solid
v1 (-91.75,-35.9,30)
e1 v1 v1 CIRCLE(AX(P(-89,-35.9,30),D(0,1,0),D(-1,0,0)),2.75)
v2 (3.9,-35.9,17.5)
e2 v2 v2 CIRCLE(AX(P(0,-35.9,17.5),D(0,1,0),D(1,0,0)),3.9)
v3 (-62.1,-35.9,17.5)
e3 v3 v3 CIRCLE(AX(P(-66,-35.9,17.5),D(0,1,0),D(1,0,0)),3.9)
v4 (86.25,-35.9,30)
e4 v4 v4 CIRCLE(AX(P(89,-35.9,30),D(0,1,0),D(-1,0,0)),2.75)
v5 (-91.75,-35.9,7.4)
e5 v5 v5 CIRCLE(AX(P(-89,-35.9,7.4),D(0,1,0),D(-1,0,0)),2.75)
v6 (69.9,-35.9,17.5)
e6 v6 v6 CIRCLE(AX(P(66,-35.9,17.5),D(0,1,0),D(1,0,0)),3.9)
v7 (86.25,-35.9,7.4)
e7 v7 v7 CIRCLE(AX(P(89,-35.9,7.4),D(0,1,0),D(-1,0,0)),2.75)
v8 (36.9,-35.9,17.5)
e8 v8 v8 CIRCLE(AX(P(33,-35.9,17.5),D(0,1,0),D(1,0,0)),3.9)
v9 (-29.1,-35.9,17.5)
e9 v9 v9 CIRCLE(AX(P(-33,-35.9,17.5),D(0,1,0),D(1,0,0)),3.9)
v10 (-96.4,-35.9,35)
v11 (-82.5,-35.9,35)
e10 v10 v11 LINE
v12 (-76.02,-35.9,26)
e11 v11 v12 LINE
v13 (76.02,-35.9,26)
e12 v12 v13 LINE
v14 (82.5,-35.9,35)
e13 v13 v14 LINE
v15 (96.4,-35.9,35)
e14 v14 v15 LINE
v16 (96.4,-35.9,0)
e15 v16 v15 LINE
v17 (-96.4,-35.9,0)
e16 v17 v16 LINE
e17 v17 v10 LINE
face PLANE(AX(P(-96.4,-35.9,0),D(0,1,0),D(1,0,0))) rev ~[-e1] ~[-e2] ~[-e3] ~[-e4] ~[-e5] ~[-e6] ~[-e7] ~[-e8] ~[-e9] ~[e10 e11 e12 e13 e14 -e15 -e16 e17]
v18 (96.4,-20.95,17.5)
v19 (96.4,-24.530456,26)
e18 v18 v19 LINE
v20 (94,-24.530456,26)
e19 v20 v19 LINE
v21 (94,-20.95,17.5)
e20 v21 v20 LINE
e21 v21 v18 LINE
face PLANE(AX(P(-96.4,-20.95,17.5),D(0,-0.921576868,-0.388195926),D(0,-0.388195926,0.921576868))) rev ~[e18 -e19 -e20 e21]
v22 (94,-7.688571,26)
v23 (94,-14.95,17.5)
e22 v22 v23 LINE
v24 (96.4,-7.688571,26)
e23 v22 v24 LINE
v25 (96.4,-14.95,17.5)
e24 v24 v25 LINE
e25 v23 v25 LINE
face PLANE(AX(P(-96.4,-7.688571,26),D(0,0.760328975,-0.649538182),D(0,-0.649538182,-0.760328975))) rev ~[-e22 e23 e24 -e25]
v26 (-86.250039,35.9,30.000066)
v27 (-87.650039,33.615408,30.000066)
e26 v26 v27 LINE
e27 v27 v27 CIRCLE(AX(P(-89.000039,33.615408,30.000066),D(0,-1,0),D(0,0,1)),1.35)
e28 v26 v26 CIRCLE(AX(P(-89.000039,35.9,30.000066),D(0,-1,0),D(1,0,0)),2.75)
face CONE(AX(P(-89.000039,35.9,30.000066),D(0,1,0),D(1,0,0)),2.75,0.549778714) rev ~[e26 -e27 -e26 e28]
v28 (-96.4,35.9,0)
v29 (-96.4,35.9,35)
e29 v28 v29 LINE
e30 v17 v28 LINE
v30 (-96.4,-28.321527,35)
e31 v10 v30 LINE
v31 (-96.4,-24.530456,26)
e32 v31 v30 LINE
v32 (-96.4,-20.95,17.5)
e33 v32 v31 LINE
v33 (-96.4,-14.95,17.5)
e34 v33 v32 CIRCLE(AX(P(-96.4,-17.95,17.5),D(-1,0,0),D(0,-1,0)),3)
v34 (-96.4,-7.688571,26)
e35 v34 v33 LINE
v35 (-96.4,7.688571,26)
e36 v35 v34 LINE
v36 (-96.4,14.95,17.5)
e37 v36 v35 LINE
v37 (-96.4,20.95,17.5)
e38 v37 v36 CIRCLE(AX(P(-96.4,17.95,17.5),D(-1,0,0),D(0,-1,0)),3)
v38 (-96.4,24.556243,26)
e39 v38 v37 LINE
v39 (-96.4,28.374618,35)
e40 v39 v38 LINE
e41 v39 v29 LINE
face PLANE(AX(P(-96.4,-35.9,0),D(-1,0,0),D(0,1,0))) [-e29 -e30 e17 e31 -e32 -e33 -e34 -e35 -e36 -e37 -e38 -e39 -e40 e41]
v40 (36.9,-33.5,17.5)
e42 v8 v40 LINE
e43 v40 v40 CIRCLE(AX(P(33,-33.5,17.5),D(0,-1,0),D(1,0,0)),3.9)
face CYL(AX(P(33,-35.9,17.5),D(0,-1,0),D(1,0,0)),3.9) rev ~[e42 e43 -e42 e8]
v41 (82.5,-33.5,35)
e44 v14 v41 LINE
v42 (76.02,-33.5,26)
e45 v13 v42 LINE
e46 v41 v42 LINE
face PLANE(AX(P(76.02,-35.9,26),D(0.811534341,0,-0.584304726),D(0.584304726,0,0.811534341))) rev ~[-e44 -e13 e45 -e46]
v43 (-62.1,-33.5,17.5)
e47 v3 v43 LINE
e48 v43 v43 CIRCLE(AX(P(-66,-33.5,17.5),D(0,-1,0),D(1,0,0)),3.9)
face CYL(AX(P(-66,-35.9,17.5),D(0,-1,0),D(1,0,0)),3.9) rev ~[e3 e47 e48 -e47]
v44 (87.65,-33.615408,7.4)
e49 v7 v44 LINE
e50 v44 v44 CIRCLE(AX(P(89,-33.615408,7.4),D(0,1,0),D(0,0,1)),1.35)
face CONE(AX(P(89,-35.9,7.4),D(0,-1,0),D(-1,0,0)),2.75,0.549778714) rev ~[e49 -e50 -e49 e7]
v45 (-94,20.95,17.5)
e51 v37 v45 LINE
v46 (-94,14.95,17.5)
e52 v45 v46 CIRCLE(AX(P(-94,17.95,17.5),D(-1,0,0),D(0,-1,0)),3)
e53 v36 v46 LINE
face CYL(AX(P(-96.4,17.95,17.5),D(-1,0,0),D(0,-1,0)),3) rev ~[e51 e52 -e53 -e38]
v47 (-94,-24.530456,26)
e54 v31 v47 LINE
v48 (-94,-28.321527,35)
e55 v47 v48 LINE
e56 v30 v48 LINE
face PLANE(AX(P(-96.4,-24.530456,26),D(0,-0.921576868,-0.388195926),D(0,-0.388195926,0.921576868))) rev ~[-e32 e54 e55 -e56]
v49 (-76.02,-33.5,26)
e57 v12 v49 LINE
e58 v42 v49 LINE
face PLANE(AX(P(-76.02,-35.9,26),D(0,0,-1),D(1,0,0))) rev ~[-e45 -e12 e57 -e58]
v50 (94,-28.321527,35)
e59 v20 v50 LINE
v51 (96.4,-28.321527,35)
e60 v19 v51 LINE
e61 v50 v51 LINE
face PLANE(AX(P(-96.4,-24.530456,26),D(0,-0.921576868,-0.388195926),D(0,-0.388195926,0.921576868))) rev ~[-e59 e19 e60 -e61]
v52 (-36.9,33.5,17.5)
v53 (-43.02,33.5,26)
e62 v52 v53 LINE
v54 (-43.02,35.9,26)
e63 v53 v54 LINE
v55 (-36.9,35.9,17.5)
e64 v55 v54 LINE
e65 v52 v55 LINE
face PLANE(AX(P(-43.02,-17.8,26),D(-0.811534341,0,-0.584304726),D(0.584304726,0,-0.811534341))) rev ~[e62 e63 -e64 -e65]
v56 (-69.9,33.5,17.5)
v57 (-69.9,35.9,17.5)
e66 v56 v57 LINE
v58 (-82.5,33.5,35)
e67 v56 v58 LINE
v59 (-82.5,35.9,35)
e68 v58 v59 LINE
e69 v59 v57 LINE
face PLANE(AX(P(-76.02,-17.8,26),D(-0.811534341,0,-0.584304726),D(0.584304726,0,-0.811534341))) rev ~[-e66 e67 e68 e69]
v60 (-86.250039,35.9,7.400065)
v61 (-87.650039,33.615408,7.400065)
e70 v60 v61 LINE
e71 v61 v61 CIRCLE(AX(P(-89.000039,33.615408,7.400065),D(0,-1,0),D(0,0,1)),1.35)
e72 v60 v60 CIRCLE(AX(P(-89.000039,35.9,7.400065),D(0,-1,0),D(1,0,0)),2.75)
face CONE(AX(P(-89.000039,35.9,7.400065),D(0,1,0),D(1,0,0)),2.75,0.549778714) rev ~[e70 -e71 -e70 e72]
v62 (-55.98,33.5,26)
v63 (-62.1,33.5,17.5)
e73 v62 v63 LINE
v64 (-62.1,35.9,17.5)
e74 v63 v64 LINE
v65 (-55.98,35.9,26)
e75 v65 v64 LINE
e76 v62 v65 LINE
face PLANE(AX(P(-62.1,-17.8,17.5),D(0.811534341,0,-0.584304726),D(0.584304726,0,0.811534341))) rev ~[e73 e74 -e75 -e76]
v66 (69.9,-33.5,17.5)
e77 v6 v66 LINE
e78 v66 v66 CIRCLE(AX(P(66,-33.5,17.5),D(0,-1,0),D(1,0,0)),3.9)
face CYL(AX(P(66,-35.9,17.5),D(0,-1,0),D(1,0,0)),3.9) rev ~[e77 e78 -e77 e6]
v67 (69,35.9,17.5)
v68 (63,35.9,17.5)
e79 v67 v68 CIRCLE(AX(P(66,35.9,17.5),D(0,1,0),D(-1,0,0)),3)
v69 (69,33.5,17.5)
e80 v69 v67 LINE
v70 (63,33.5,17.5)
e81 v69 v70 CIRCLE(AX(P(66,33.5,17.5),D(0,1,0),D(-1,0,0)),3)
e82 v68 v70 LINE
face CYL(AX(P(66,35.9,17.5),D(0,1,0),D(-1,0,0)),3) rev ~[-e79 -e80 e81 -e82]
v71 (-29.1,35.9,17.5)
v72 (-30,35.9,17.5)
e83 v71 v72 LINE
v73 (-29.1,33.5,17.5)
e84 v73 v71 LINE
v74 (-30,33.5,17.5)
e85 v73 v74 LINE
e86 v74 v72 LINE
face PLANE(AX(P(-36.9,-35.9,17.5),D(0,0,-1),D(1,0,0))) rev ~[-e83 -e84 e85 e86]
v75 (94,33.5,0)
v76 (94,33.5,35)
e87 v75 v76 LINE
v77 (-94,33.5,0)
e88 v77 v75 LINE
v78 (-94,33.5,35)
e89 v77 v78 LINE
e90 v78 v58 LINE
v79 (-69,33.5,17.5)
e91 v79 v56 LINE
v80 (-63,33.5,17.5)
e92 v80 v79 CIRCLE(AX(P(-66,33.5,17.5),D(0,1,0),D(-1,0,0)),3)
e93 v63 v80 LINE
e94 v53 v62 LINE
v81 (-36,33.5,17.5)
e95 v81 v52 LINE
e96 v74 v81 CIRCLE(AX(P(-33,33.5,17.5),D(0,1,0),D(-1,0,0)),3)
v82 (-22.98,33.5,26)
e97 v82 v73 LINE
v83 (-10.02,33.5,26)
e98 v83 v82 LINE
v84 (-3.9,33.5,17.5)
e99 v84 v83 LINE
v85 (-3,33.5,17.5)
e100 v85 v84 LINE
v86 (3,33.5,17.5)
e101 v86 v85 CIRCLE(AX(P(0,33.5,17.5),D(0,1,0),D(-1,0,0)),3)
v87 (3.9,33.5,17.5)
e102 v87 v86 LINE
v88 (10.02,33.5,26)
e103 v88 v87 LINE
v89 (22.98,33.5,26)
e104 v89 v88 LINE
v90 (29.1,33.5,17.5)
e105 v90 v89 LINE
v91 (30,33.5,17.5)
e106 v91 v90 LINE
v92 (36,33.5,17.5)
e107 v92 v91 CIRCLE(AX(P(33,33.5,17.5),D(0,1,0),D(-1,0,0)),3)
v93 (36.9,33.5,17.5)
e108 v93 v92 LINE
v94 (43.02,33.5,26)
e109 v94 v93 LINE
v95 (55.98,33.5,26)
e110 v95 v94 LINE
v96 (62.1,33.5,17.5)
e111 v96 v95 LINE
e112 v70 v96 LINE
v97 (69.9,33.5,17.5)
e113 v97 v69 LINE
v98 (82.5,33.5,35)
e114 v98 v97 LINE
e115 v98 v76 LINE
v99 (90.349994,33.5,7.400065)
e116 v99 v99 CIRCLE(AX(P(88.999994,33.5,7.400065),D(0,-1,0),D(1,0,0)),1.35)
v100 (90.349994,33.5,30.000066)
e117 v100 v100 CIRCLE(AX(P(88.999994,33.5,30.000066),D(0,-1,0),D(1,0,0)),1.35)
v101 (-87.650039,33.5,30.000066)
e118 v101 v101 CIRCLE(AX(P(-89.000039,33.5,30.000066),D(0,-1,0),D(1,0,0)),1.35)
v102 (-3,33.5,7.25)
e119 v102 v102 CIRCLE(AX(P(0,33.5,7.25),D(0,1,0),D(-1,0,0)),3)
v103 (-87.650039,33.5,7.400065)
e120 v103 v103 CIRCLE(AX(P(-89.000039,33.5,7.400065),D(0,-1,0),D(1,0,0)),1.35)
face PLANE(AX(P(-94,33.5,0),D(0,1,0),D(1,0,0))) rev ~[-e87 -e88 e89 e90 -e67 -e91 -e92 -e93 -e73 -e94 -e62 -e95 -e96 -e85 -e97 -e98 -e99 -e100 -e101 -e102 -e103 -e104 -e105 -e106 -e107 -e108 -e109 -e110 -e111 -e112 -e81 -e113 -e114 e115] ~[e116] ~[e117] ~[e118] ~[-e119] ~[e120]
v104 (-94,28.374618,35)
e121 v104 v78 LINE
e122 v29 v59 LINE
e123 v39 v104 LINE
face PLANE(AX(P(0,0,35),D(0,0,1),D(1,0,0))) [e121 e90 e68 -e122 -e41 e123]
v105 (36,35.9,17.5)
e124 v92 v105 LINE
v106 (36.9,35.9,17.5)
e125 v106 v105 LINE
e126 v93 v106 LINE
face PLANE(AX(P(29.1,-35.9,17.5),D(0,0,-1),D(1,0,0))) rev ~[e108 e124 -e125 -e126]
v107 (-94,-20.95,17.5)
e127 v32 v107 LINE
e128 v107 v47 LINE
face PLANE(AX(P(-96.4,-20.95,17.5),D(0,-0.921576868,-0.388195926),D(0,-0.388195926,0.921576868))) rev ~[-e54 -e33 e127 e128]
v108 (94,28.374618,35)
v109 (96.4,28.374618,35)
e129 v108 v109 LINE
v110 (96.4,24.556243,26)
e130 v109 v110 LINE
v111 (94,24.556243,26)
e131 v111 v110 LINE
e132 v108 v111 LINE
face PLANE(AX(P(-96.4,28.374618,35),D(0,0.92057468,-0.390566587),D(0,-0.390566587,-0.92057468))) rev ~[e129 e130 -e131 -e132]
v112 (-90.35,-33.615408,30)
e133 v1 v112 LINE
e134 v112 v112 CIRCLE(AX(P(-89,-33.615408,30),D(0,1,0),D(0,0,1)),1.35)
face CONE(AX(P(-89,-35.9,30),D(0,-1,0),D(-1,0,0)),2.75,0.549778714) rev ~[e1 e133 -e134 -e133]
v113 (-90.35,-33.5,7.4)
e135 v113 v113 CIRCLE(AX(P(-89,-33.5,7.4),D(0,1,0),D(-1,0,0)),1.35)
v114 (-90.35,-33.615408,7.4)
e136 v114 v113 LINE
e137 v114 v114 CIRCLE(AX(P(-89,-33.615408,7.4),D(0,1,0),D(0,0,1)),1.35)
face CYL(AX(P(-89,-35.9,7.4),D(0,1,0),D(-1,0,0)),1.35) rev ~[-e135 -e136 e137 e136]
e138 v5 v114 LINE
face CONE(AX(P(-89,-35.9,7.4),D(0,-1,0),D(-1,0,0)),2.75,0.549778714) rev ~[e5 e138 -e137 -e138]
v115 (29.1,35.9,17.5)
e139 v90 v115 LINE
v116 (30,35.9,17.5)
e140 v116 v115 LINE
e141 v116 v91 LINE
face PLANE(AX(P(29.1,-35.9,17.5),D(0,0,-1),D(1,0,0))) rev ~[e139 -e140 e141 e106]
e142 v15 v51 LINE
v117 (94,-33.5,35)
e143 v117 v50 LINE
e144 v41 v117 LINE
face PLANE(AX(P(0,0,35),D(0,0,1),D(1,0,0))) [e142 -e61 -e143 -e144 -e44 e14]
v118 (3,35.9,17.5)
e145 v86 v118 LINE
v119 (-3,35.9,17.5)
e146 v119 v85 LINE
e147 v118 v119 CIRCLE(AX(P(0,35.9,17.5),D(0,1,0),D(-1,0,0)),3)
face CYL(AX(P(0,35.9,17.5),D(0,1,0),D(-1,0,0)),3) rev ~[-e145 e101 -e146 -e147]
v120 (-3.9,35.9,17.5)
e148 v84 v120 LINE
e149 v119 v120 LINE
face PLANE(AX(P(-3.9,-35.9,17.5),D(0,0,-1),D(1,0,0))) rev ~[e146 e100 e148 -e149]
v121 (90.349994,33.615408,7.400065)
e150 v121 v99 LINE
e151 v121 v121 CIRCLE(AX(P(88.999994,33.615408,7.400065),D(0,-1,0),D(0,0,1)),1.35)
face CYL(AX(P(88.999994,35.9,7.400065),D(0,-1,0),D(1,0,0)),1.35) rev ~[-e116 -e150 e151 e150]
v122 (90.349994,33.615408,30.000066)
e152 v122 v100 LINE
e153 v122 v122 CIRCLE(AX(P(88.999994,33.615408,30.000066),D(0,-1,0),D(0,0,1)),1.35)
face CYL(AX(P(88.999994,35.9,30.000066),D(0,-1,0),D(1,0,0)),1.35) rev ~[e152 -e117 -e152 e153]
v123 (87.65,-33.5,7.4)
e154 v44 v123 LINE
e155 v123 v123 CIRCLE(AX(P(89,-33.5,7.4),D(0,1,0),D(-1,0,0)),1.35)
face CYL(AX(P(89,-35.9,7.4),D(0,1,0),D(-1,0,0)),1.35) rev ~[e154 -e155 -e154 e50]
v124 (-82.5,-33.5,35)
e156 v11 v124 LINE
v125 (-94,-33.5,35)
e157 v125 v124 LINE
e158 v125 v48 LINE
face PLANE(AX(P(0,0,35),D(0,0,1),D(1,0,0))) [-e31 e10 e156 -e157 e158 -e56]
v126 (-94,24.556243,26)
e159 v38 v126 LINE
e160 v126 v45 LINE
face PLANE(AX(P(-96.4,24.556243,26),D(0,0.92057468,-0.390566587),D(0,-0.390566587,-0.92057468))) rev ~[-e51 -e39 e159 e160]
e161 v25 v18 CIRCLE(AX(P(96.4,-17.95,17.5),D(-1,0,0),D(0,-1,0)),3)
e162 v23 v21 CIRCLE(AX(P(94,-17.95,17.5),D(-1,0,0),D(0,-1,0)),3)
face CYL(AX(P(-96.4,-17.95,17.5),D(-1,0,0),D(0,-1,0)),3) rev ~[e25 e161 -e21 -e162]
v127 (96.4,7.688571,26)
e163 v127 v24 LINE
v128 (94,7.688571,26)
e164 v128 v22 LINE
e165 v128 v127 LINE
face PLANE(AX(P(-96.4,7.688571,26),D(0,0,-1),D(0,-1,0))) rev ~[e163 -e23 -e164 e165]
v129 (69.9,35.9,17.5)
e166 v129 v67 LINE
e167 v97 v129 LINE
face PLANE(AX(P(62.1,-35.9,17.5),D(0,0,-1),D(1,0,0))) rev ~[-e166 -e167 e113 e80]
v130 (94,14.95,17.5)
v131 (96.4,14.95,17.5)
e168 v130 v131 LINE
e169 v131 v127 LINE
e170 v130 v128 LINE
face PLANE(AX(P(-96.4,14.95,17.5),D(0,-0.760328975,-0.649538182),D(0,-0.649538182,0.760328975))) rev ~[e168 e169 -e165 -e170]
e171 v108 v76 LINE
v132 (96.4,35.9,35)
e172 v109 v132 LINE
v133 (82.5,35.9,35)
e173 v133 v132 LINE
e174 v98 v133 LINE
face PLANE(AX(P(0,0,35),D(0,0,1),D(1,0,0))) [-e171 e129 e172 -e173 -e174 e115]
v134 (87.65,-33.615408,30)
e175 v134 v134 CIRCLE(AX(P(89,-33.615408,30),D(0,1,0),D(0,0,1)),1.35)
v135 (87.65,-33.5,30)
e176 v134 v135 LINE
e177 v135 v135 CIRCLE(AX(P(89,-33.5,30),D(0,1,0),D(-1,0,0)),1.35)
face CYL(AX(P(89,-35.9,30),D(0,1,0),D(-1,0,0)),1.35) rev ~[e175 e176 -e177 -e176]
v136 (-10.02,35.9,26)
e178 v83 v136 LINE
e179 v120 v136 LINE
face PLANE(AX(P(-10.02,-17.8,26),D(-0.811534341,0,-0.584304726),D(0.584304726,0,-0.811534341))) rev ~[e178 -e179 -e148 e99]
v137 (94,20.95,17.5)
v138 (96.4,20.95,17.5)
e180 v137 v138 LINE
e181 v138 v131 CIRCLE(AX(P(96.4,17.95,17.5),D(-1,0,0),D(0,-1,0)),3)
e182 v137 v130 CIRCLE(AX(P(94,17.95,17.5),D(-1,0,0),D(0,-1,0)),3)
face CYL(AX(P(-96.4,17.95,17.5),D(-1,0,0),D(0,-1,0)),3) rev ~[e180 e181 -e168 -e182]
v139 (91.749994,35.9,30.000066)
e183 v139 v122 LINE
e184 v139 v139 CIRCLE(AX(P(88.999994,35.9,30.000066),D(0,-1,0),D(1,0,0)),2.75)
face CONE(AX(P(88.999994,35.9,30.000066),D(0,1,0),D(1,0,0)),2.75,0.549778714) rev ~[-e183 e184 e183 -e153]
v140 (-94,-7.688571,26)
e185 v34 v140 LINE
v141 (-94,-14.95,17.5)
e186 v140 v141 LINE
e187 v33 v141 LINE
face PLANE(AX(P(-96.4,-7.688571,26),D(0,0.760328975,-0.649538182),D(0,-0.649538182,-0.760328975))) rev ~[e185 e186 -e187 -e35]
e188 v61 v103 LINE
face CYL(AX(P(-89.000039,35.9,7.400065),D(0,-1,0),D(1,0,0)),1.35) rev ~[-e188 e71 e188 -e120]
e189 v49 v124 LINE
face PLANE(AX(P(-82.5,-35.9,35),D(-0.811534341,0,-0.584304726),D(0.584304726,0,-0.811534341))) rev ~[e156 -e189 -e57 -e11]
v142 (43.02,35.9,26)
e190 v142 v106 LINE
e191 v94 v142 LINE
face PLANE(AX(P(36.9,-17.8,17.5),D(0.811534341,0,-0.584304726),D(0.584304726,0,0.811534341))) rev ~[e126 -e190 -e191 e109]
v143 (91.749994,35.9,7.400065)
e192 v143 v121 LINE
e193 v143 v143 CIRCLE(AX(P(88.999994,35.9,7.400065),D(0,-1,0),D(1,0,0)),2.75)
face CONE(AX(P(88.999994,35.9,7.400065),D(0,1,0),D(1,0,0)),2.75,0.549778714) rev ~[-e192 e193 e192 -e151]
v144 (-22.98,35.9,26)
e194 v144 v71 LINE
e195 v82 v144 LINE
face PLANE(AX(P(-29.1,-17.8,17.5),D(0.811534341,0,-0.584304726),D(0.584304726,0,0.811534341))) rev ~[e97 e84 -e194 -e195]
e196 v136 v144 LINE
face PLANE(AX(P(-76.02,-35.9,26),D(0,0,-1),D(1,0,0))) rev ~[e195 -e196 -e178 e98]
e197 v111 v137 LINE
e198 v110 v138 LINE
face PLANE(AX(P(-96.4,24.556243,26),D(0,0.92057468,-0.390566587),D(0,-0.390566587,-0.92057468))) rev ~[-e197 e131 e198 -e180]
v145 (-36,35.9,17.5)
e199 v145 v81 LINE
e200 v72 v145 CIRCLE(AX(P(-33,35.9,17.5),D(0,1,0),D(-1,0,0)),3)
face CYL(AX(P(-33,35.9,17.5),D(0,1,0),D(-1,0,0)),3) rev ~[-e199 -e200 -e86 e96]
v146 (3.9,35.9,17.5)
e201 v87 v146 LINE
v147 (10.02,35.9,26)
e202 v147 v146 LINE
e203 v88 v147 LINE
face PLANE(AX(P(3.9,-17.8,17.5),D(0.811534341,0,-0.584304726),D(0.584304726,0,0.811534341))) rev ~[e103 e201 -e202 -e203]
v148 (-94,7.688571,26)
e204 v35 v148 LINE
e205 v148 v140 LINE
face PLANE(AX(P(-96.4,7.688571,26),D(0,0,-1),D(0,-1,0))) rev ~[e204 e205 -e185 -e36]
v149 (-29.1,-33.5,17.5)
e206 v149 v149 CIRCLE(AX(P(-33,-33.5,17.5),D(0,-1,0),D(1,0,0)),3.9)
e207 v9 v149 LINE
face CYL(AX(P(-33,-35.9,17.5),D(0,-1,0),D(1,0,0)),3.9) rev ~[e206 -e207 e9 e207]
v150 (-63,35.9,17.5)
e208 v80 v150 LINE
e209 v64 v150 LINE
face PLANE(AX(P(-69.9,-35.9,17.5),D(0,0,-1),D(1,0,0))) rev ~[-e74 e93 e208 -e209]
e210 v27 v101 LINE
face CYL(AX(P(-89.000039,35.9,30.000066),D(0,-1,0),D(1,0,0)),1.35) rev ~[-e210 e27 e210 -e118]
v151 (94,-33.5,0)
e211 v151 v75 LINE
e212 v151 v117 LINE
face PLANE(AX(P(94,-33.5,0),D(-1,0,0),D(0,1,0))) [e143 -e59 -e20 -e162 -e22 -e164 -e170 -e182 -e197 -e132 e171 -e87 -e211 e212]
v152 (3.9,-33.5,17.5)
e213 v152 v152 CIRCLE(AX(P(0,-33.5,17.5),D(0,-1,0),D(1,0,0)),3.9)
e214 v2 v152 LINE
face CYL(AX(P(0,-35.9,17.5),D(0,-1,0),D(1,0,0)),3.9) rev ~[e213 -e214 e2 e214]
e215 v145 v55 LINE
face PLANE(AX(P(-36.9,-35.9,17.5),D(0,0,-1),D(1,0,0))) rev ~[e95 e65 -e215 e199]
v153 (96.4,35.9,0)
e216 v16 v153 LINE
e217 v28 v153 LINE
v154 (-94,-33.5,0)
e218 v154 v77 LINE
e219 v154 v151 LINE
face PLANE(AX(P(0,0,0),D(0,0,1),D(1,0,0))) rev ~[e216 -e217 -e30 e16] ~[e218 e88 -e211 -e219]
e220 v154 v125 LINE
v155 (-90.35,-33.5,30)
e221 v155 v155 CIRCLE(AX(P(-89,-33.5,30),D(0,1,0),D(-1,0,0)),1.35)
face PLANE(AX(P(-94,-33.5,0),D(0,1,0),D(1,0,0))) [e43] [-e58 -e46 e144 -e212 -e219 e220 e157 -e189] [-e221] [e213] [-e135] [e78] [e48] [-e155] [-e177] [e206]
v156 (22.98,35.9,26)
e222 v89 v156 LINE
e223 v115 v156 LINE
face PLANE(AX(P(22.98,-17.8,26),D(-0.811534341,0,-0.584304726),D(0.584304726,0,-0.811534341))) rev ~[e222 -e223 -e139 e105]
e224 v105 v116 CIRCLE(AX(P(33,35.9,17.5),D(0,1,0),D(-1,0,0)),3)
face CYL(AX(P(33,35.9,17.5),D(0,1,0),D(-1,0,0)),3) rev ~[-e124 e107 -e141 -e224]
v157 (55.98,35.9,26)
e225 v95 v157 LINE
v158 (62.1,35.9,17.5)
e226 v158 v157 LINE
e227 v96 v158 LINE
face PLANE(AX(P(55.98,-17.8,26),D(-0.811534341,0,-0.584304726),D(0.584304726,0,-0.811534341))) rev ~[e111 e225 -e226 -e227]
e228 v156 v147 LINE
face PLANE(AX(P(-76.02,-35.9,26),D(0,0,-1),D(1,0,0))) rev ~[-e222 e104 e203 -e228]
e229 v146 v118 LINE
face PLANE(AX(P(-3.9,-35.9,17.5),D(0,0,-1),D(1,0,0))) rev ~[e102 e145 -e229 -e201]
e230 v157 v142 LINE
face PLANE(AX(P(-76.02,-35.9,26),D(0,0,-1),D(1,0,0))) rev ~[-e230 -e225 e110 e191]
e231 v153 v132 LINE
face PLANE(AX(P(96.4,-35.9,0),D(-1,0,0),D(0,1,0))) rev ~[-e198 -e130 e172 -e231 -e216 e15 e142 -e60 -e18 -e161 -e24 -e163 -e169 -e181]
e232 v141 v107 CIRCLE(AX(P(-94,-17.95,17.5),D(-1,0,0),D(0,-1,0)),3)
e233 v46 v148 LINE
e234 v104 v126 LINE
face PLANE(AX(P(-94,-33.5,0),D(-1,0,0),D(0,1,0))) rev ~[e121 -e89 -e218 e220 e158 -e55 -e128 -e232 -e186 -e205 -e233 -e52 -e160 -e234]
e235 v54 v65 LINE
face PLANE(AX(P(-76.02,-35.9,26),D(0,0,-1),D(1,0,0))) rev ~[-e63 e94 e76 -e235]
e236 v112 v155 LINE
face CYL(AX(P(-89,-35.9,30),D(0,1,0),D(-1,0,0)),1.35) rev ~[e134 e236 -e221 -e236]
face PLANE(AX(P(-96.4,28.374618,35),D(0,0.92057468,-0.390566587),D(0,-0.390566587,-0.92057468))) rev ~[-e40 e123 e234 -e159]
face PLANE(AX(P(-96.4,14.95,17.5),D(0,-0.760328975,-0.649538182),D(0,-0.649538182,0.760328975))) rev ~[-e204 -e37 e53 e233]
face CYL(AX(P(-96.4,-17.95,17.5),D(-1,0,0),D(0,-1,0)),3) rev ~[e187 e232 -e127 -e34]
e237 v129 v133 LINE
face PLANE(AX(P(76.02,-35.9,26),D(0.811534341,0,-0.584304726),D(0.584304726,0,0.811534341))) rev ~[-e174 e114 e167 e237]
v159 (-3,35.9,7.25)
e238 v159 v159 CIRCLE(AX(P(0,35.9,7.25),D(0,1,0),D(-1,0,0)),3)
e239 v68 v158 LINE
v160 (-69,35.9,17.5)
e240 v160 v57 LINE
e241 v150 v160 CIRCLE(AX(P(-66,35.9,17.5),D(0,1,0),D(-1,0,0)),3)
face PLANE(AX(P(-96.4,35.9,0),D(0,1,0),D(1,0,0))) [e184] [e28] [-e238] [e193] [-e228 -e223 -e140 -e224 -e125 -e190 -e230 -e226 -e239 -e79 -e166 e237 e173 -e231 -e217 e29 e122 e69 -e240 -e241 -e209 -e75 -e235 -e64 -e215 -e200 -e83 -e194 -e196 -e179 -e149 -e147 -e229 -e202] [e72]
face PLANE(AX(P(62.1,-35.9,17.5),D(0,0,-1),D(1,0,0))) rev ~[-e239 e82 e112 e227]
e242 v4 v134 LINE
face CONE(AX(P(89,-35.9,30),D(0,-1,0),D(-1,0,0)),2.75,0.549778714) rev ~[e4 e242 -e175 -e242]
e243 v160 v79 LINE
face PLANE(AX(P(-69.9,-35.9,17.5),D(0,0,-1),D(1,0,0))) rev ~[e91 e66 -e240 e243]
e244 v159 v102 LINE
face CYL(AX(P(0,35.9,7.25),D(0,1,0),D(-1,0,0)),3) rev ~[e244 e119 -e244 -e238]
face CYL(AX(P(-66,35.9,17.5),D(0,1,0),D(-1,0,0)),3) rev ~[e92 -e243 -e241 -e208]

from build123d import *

# Parameters (mm, degrees)
F0_W            = 192.8
F0_H            = 71.8
F0_W_2          = 188
F0_H_2          = 67
F1_DEPTH        = 35
F2_R            = 3
F3_DEPTH        = 192.801
F4_R            = 3.9
F5_DEPTH        = 25
F6_R            = 3
F7_DEPTH        = 25
F11_DEPTH       = 192.801
F12_DEPTH       = 71.801
F13_D           = 2.7
F13_DEPTH       = 12
F13_CSINK_D     = 5.5
F13_CSINK_ANGLE = 63
F13_TIP         = 0.8111618357
F15_D           = 2.7
F15_DEPTH       = 12
F15_CSINK_D     = 5.5
F15_CSINK_ANGLE = 63
F15_TIP         = 0.8111618357
F16_START       = -18.1
F16_DEPTH       = 112.3
F17_R           = 3
F18_DEPTH       = 25


with BuildPart() as f1:
    # F0 (on Top) → F1 (new body)
    with BuildSketch(Plane.XY):
        Rectangle(F0_W, F0_H)
        Rectangle(F0_W_2, F0_H_2, mode=Mode.SUBTRACT)
    extrude(amount=F1_DEPTH)

    # F2 (on face) → F3 (cut, through all)
    with BuildSketch(Plane(origin=(-96.4, 0, 0), x_dir=(0, -1, 0), z_dir=(-1, 0, 0))):
        with Locations((-17.95, 17.5)):
            Circle(F2_R)
        with Locations((17.95, 17.5)):
            Circle(F2_R)
    extrude(amount=-F3_DEPTH, mode=Mode.SUBTRACT)

    # F4 (on face) → F5 (cut)
    with BuildSketch(Plane.XZ.offset(35.9)):
        with Locations((0, 17.5)):
            Circle(F4_R)
        with Locations((33, 17.5)):
            Circle(F4_R)
        with Locations((66, 17.5)):
            Circle(F4_R)
        with Locations((-33, 17.5)):
            Circle(F4_R)
        with Locations((-66, 17.5)):
            Circle(F4_R)
    extrude(amount=-F5_DEPTH, mode=Mode.SUBTRACT)

    # F6 (on face) → F7 (cut)
    with BuildSketch(Plane(origin=(0, 35.9, 0), x_dir=(-1, 0, 0), z_dir=(0, 1, 0))):
        with Locations((0, 17.5)):
            Circle(F6_R)
        with Locations((33, 17.5)):
            Circle(F6_R)
        with Locations((66, 17.5)):
            Circle(F6_R)
        with Locations((-33, 17.5)):
            Circle(F6_R)
        with Locations((-66, 17.5)):
            Circle(F6_R)
    extrude(amount=-F7_DEPTH, mode=Mode.SUBTRACT)

    # F9 (on face) → F11 (cut, through all)
    with BuildSketch(Plane(origin=(-96.4, 0, 0), x_dir=(0, -1, 0), z_dir=(-1, 0, 0))):
        with BuildLine():
            Line((-7.6885714286, 26), (-24.5562429894, 26))
            Line((-24.5562429894, 26), (-20.95, 17.5))
            ThreePointArc((-20.95, 17.5), (-17.95, 20.5), (-14.95, 17.5))
            Line((-14.95, 17.5), (-7.6885714286, 26))
        make_face()
        Polygon((0, 35), (-28.3746179193, 35), (-24.5562429894, 26), (-7.6885714286, 26), align=None)
        Polygon((28.3215269446, 35), (0, 35), (7.6885714286, 26), (24.5304559445, 26), align=None)
        with BuildLine():
            Line((24.5304559445, 26), (7.6885714286, 26))
            Line((7.6885714286, 26), (14.95, 17.5))
            ThreePointArc((14.95, 17.5), (17.95, 20.5), (20.95, 17.5))
            Line((20.95, 17.5), (24.5304559445, 26))
        make_face()
        Polygon((7.6885714286, 26), (0, 35), (-7.6885714286, 26), align=None)
    extrude(amount=-F11_DEPTH, mode=Mode.SUBTRACT)

    # F10 (on face) → F12 (cut, through all)
    with BuildSketch(Plane.XZ.offset(35.9)):
        Polygon((-49.5, 35), (-82.5, 35), (-76.02, 26), (-55.98, 26), align=None)
        Polygon((-16.5, 35), (-49.5, 35), (-43.02, 26), (-22.98, 26), align=None)
        Polygon((-43.02, 26), (-49.5, 35), (-55.98, 26), align=None)
        Polygon((16.5, 35), (-16.5, 35), (-10.02, 26), (10.02, 26), align=None)
        Polygon((-10.02, 26), (-16.5, 35), (-22.98, 26), align=None)
        Polygon((49.5, 35), (16.5, 35), (22.98, 26), (43.02, 26), align=None)
        Polygon((55.98, 26), (49.5, 35), (43.02, 26), align=None)
        Polygon((82.5, 35), (49.5, 35), (55.98, 26), (76.02, 26), align=None)
        with BuildLine():
            ThreePointArc((69.9, 17.5), (66, 21.4), (62.1, 17.5))
            Line((62.1, 17.5), (69.9, 17.5))
        make_face()
        with BuildLine():
            ThreePointArc((36.9, 17.5), (33, 21.4), (29.1, 17.5))
            Line((29.1, 17.5), (36.9, 17.5))
        make_face()
        with BuildLine():
            ThreePointArc((3.9, 17.5), (0, 21.4), (-3.9, 17.5))
            Line((-3.9, 17.5), (3.9, 17.5))
        make_face()
        with BuildLine():
            ThreePointArc((-29.1, 17.5), (-33, 21.4), (-36.9, 17.5))
            Line((-36.9, 17.5), (-29.1, 17.5))
        make_face()
        with BuildLine():
            ThreePointArc((-62.1, 17.5), (-66, 21.4), (-69.9, 17.5))
            Line((-69.9, 17.5), (-62.1, 17.5))
        make_face()
        Polygon((22.98, 26), (16.5, 35), (10.02, 26), align=None)
    extrude(amount=-F12_DEPTH, mode=Mode.SUBTRACT)

    # F13
    with Locations(Plane.XZ.offset(35.9)):
        with Locations((-89, 30), (-89, 7.4), (89, 30), (89, 7.4)):
            CounterSinkHole(F13_D / 2, F13_CSINK_D / 2, depth=F13_DEPTH, counter_sink_angle=F13_CSINK_ANGLE)
            with Locations((0, 0, -(F13_DEPTH + F13_TIP / 2))):  # 118° drill point
                Cone(0, F13_D / 2, F13_TIP, mode=Mode.SUBTRACT)

    # F15
    with Locations(Plane(origin=(0, 35.9, 0), x_dir=(-1, 0, 0), z_dir=(0, 1, 0))):
        with Locations((89.0000388026, 30.0000663847), (89.0000388026, 7.4000651948), (-88.9999940991, 30.0000663847), (-88.9999940991, 7.4000651948)):
            CounterSinkHole(F15_D / 2, F15_CSINK_D / 2, depth=F15_DEPTH, counter_sink_angle=F15_CSINK_ANGLE)
            with Locations((0, 0, -(F15_DEPTH + F15_TIP / 2))):  # 118° drill point
                Cone(0, F15_D / 2, F15_TIP, mode=Mode.SUBTRACT)

    # F10 (on face) → F16 (cut)
    with BuildSketch(Plane.XZ.offset(35.9).offset(F16_START)):
        with BuildLine():
            Line((-55.98, 26), (-76.02, 26))
            Line((-76.02, 26), (-69.9, 17.5))
            ThreePointArc((-69.9, 17.5), (-66, 21.4), (-62.1, 17.5))
            Line((-62.1, 17.5), (-55.98, 26))
        make_face()
        with BuildLine():
            Line((-22.98, 26), (-43.02, 26))
            Line((-43.02, 26), (-36.9, 17.5))
            ThreePointArc((-36.9, 17.5), (-33, 21.4), (-29.1, 17.5))
            Line((-29.1, 17.5), (-22.98, 26))
        make_face()
        with BuildLine():
            Line((10.02, 26), (-10.02, 26))
            Line((-10.02, 26), (-3.9, 17.5))
            ThreePointArc((-3.9, 17.5), (0, 21.4), (3.9, 17.5))
            Line((3.9, 17.5), (10.02, 26))
        make_face()
        with BuildLine():
            Line((43.02, 26), (22.98, 26))
            Line((22.98, 26), (29.1, 17.5))
            ThreePointArc((29.1, 17.5), (33, 21.4), (36.9, 17.5))
            Line((36.9, 17.5), (43.02, 26))
        make_face()
        with BuildLine():
            Line((76.02, 26), (55.98, 26))
            Line((55.98, 26), (62.1, 17.5))
            ThreePointArc((62.1, 17.5), (66, 21.4), (69.9, 17.5))
            Line((69.9, 17.5), (76.02, 26))
        make_face()
    extrude(amount=-F16_DEPTH, mode=Mode.SUBTRACT)

    # F17 (on face) → F18 (cut)
    with BuildSketch(Plane(origin=(0, 35.9, 0), x_dir=(-1, 0, 0), z_dir=(0, 1, 0))):
        with Locations((0, 7.25)):
            Circle(F17_R)
    extrude(amount=-F18_DEPTH, mode=Mode.SUBTRACT)


solid = f1.part
